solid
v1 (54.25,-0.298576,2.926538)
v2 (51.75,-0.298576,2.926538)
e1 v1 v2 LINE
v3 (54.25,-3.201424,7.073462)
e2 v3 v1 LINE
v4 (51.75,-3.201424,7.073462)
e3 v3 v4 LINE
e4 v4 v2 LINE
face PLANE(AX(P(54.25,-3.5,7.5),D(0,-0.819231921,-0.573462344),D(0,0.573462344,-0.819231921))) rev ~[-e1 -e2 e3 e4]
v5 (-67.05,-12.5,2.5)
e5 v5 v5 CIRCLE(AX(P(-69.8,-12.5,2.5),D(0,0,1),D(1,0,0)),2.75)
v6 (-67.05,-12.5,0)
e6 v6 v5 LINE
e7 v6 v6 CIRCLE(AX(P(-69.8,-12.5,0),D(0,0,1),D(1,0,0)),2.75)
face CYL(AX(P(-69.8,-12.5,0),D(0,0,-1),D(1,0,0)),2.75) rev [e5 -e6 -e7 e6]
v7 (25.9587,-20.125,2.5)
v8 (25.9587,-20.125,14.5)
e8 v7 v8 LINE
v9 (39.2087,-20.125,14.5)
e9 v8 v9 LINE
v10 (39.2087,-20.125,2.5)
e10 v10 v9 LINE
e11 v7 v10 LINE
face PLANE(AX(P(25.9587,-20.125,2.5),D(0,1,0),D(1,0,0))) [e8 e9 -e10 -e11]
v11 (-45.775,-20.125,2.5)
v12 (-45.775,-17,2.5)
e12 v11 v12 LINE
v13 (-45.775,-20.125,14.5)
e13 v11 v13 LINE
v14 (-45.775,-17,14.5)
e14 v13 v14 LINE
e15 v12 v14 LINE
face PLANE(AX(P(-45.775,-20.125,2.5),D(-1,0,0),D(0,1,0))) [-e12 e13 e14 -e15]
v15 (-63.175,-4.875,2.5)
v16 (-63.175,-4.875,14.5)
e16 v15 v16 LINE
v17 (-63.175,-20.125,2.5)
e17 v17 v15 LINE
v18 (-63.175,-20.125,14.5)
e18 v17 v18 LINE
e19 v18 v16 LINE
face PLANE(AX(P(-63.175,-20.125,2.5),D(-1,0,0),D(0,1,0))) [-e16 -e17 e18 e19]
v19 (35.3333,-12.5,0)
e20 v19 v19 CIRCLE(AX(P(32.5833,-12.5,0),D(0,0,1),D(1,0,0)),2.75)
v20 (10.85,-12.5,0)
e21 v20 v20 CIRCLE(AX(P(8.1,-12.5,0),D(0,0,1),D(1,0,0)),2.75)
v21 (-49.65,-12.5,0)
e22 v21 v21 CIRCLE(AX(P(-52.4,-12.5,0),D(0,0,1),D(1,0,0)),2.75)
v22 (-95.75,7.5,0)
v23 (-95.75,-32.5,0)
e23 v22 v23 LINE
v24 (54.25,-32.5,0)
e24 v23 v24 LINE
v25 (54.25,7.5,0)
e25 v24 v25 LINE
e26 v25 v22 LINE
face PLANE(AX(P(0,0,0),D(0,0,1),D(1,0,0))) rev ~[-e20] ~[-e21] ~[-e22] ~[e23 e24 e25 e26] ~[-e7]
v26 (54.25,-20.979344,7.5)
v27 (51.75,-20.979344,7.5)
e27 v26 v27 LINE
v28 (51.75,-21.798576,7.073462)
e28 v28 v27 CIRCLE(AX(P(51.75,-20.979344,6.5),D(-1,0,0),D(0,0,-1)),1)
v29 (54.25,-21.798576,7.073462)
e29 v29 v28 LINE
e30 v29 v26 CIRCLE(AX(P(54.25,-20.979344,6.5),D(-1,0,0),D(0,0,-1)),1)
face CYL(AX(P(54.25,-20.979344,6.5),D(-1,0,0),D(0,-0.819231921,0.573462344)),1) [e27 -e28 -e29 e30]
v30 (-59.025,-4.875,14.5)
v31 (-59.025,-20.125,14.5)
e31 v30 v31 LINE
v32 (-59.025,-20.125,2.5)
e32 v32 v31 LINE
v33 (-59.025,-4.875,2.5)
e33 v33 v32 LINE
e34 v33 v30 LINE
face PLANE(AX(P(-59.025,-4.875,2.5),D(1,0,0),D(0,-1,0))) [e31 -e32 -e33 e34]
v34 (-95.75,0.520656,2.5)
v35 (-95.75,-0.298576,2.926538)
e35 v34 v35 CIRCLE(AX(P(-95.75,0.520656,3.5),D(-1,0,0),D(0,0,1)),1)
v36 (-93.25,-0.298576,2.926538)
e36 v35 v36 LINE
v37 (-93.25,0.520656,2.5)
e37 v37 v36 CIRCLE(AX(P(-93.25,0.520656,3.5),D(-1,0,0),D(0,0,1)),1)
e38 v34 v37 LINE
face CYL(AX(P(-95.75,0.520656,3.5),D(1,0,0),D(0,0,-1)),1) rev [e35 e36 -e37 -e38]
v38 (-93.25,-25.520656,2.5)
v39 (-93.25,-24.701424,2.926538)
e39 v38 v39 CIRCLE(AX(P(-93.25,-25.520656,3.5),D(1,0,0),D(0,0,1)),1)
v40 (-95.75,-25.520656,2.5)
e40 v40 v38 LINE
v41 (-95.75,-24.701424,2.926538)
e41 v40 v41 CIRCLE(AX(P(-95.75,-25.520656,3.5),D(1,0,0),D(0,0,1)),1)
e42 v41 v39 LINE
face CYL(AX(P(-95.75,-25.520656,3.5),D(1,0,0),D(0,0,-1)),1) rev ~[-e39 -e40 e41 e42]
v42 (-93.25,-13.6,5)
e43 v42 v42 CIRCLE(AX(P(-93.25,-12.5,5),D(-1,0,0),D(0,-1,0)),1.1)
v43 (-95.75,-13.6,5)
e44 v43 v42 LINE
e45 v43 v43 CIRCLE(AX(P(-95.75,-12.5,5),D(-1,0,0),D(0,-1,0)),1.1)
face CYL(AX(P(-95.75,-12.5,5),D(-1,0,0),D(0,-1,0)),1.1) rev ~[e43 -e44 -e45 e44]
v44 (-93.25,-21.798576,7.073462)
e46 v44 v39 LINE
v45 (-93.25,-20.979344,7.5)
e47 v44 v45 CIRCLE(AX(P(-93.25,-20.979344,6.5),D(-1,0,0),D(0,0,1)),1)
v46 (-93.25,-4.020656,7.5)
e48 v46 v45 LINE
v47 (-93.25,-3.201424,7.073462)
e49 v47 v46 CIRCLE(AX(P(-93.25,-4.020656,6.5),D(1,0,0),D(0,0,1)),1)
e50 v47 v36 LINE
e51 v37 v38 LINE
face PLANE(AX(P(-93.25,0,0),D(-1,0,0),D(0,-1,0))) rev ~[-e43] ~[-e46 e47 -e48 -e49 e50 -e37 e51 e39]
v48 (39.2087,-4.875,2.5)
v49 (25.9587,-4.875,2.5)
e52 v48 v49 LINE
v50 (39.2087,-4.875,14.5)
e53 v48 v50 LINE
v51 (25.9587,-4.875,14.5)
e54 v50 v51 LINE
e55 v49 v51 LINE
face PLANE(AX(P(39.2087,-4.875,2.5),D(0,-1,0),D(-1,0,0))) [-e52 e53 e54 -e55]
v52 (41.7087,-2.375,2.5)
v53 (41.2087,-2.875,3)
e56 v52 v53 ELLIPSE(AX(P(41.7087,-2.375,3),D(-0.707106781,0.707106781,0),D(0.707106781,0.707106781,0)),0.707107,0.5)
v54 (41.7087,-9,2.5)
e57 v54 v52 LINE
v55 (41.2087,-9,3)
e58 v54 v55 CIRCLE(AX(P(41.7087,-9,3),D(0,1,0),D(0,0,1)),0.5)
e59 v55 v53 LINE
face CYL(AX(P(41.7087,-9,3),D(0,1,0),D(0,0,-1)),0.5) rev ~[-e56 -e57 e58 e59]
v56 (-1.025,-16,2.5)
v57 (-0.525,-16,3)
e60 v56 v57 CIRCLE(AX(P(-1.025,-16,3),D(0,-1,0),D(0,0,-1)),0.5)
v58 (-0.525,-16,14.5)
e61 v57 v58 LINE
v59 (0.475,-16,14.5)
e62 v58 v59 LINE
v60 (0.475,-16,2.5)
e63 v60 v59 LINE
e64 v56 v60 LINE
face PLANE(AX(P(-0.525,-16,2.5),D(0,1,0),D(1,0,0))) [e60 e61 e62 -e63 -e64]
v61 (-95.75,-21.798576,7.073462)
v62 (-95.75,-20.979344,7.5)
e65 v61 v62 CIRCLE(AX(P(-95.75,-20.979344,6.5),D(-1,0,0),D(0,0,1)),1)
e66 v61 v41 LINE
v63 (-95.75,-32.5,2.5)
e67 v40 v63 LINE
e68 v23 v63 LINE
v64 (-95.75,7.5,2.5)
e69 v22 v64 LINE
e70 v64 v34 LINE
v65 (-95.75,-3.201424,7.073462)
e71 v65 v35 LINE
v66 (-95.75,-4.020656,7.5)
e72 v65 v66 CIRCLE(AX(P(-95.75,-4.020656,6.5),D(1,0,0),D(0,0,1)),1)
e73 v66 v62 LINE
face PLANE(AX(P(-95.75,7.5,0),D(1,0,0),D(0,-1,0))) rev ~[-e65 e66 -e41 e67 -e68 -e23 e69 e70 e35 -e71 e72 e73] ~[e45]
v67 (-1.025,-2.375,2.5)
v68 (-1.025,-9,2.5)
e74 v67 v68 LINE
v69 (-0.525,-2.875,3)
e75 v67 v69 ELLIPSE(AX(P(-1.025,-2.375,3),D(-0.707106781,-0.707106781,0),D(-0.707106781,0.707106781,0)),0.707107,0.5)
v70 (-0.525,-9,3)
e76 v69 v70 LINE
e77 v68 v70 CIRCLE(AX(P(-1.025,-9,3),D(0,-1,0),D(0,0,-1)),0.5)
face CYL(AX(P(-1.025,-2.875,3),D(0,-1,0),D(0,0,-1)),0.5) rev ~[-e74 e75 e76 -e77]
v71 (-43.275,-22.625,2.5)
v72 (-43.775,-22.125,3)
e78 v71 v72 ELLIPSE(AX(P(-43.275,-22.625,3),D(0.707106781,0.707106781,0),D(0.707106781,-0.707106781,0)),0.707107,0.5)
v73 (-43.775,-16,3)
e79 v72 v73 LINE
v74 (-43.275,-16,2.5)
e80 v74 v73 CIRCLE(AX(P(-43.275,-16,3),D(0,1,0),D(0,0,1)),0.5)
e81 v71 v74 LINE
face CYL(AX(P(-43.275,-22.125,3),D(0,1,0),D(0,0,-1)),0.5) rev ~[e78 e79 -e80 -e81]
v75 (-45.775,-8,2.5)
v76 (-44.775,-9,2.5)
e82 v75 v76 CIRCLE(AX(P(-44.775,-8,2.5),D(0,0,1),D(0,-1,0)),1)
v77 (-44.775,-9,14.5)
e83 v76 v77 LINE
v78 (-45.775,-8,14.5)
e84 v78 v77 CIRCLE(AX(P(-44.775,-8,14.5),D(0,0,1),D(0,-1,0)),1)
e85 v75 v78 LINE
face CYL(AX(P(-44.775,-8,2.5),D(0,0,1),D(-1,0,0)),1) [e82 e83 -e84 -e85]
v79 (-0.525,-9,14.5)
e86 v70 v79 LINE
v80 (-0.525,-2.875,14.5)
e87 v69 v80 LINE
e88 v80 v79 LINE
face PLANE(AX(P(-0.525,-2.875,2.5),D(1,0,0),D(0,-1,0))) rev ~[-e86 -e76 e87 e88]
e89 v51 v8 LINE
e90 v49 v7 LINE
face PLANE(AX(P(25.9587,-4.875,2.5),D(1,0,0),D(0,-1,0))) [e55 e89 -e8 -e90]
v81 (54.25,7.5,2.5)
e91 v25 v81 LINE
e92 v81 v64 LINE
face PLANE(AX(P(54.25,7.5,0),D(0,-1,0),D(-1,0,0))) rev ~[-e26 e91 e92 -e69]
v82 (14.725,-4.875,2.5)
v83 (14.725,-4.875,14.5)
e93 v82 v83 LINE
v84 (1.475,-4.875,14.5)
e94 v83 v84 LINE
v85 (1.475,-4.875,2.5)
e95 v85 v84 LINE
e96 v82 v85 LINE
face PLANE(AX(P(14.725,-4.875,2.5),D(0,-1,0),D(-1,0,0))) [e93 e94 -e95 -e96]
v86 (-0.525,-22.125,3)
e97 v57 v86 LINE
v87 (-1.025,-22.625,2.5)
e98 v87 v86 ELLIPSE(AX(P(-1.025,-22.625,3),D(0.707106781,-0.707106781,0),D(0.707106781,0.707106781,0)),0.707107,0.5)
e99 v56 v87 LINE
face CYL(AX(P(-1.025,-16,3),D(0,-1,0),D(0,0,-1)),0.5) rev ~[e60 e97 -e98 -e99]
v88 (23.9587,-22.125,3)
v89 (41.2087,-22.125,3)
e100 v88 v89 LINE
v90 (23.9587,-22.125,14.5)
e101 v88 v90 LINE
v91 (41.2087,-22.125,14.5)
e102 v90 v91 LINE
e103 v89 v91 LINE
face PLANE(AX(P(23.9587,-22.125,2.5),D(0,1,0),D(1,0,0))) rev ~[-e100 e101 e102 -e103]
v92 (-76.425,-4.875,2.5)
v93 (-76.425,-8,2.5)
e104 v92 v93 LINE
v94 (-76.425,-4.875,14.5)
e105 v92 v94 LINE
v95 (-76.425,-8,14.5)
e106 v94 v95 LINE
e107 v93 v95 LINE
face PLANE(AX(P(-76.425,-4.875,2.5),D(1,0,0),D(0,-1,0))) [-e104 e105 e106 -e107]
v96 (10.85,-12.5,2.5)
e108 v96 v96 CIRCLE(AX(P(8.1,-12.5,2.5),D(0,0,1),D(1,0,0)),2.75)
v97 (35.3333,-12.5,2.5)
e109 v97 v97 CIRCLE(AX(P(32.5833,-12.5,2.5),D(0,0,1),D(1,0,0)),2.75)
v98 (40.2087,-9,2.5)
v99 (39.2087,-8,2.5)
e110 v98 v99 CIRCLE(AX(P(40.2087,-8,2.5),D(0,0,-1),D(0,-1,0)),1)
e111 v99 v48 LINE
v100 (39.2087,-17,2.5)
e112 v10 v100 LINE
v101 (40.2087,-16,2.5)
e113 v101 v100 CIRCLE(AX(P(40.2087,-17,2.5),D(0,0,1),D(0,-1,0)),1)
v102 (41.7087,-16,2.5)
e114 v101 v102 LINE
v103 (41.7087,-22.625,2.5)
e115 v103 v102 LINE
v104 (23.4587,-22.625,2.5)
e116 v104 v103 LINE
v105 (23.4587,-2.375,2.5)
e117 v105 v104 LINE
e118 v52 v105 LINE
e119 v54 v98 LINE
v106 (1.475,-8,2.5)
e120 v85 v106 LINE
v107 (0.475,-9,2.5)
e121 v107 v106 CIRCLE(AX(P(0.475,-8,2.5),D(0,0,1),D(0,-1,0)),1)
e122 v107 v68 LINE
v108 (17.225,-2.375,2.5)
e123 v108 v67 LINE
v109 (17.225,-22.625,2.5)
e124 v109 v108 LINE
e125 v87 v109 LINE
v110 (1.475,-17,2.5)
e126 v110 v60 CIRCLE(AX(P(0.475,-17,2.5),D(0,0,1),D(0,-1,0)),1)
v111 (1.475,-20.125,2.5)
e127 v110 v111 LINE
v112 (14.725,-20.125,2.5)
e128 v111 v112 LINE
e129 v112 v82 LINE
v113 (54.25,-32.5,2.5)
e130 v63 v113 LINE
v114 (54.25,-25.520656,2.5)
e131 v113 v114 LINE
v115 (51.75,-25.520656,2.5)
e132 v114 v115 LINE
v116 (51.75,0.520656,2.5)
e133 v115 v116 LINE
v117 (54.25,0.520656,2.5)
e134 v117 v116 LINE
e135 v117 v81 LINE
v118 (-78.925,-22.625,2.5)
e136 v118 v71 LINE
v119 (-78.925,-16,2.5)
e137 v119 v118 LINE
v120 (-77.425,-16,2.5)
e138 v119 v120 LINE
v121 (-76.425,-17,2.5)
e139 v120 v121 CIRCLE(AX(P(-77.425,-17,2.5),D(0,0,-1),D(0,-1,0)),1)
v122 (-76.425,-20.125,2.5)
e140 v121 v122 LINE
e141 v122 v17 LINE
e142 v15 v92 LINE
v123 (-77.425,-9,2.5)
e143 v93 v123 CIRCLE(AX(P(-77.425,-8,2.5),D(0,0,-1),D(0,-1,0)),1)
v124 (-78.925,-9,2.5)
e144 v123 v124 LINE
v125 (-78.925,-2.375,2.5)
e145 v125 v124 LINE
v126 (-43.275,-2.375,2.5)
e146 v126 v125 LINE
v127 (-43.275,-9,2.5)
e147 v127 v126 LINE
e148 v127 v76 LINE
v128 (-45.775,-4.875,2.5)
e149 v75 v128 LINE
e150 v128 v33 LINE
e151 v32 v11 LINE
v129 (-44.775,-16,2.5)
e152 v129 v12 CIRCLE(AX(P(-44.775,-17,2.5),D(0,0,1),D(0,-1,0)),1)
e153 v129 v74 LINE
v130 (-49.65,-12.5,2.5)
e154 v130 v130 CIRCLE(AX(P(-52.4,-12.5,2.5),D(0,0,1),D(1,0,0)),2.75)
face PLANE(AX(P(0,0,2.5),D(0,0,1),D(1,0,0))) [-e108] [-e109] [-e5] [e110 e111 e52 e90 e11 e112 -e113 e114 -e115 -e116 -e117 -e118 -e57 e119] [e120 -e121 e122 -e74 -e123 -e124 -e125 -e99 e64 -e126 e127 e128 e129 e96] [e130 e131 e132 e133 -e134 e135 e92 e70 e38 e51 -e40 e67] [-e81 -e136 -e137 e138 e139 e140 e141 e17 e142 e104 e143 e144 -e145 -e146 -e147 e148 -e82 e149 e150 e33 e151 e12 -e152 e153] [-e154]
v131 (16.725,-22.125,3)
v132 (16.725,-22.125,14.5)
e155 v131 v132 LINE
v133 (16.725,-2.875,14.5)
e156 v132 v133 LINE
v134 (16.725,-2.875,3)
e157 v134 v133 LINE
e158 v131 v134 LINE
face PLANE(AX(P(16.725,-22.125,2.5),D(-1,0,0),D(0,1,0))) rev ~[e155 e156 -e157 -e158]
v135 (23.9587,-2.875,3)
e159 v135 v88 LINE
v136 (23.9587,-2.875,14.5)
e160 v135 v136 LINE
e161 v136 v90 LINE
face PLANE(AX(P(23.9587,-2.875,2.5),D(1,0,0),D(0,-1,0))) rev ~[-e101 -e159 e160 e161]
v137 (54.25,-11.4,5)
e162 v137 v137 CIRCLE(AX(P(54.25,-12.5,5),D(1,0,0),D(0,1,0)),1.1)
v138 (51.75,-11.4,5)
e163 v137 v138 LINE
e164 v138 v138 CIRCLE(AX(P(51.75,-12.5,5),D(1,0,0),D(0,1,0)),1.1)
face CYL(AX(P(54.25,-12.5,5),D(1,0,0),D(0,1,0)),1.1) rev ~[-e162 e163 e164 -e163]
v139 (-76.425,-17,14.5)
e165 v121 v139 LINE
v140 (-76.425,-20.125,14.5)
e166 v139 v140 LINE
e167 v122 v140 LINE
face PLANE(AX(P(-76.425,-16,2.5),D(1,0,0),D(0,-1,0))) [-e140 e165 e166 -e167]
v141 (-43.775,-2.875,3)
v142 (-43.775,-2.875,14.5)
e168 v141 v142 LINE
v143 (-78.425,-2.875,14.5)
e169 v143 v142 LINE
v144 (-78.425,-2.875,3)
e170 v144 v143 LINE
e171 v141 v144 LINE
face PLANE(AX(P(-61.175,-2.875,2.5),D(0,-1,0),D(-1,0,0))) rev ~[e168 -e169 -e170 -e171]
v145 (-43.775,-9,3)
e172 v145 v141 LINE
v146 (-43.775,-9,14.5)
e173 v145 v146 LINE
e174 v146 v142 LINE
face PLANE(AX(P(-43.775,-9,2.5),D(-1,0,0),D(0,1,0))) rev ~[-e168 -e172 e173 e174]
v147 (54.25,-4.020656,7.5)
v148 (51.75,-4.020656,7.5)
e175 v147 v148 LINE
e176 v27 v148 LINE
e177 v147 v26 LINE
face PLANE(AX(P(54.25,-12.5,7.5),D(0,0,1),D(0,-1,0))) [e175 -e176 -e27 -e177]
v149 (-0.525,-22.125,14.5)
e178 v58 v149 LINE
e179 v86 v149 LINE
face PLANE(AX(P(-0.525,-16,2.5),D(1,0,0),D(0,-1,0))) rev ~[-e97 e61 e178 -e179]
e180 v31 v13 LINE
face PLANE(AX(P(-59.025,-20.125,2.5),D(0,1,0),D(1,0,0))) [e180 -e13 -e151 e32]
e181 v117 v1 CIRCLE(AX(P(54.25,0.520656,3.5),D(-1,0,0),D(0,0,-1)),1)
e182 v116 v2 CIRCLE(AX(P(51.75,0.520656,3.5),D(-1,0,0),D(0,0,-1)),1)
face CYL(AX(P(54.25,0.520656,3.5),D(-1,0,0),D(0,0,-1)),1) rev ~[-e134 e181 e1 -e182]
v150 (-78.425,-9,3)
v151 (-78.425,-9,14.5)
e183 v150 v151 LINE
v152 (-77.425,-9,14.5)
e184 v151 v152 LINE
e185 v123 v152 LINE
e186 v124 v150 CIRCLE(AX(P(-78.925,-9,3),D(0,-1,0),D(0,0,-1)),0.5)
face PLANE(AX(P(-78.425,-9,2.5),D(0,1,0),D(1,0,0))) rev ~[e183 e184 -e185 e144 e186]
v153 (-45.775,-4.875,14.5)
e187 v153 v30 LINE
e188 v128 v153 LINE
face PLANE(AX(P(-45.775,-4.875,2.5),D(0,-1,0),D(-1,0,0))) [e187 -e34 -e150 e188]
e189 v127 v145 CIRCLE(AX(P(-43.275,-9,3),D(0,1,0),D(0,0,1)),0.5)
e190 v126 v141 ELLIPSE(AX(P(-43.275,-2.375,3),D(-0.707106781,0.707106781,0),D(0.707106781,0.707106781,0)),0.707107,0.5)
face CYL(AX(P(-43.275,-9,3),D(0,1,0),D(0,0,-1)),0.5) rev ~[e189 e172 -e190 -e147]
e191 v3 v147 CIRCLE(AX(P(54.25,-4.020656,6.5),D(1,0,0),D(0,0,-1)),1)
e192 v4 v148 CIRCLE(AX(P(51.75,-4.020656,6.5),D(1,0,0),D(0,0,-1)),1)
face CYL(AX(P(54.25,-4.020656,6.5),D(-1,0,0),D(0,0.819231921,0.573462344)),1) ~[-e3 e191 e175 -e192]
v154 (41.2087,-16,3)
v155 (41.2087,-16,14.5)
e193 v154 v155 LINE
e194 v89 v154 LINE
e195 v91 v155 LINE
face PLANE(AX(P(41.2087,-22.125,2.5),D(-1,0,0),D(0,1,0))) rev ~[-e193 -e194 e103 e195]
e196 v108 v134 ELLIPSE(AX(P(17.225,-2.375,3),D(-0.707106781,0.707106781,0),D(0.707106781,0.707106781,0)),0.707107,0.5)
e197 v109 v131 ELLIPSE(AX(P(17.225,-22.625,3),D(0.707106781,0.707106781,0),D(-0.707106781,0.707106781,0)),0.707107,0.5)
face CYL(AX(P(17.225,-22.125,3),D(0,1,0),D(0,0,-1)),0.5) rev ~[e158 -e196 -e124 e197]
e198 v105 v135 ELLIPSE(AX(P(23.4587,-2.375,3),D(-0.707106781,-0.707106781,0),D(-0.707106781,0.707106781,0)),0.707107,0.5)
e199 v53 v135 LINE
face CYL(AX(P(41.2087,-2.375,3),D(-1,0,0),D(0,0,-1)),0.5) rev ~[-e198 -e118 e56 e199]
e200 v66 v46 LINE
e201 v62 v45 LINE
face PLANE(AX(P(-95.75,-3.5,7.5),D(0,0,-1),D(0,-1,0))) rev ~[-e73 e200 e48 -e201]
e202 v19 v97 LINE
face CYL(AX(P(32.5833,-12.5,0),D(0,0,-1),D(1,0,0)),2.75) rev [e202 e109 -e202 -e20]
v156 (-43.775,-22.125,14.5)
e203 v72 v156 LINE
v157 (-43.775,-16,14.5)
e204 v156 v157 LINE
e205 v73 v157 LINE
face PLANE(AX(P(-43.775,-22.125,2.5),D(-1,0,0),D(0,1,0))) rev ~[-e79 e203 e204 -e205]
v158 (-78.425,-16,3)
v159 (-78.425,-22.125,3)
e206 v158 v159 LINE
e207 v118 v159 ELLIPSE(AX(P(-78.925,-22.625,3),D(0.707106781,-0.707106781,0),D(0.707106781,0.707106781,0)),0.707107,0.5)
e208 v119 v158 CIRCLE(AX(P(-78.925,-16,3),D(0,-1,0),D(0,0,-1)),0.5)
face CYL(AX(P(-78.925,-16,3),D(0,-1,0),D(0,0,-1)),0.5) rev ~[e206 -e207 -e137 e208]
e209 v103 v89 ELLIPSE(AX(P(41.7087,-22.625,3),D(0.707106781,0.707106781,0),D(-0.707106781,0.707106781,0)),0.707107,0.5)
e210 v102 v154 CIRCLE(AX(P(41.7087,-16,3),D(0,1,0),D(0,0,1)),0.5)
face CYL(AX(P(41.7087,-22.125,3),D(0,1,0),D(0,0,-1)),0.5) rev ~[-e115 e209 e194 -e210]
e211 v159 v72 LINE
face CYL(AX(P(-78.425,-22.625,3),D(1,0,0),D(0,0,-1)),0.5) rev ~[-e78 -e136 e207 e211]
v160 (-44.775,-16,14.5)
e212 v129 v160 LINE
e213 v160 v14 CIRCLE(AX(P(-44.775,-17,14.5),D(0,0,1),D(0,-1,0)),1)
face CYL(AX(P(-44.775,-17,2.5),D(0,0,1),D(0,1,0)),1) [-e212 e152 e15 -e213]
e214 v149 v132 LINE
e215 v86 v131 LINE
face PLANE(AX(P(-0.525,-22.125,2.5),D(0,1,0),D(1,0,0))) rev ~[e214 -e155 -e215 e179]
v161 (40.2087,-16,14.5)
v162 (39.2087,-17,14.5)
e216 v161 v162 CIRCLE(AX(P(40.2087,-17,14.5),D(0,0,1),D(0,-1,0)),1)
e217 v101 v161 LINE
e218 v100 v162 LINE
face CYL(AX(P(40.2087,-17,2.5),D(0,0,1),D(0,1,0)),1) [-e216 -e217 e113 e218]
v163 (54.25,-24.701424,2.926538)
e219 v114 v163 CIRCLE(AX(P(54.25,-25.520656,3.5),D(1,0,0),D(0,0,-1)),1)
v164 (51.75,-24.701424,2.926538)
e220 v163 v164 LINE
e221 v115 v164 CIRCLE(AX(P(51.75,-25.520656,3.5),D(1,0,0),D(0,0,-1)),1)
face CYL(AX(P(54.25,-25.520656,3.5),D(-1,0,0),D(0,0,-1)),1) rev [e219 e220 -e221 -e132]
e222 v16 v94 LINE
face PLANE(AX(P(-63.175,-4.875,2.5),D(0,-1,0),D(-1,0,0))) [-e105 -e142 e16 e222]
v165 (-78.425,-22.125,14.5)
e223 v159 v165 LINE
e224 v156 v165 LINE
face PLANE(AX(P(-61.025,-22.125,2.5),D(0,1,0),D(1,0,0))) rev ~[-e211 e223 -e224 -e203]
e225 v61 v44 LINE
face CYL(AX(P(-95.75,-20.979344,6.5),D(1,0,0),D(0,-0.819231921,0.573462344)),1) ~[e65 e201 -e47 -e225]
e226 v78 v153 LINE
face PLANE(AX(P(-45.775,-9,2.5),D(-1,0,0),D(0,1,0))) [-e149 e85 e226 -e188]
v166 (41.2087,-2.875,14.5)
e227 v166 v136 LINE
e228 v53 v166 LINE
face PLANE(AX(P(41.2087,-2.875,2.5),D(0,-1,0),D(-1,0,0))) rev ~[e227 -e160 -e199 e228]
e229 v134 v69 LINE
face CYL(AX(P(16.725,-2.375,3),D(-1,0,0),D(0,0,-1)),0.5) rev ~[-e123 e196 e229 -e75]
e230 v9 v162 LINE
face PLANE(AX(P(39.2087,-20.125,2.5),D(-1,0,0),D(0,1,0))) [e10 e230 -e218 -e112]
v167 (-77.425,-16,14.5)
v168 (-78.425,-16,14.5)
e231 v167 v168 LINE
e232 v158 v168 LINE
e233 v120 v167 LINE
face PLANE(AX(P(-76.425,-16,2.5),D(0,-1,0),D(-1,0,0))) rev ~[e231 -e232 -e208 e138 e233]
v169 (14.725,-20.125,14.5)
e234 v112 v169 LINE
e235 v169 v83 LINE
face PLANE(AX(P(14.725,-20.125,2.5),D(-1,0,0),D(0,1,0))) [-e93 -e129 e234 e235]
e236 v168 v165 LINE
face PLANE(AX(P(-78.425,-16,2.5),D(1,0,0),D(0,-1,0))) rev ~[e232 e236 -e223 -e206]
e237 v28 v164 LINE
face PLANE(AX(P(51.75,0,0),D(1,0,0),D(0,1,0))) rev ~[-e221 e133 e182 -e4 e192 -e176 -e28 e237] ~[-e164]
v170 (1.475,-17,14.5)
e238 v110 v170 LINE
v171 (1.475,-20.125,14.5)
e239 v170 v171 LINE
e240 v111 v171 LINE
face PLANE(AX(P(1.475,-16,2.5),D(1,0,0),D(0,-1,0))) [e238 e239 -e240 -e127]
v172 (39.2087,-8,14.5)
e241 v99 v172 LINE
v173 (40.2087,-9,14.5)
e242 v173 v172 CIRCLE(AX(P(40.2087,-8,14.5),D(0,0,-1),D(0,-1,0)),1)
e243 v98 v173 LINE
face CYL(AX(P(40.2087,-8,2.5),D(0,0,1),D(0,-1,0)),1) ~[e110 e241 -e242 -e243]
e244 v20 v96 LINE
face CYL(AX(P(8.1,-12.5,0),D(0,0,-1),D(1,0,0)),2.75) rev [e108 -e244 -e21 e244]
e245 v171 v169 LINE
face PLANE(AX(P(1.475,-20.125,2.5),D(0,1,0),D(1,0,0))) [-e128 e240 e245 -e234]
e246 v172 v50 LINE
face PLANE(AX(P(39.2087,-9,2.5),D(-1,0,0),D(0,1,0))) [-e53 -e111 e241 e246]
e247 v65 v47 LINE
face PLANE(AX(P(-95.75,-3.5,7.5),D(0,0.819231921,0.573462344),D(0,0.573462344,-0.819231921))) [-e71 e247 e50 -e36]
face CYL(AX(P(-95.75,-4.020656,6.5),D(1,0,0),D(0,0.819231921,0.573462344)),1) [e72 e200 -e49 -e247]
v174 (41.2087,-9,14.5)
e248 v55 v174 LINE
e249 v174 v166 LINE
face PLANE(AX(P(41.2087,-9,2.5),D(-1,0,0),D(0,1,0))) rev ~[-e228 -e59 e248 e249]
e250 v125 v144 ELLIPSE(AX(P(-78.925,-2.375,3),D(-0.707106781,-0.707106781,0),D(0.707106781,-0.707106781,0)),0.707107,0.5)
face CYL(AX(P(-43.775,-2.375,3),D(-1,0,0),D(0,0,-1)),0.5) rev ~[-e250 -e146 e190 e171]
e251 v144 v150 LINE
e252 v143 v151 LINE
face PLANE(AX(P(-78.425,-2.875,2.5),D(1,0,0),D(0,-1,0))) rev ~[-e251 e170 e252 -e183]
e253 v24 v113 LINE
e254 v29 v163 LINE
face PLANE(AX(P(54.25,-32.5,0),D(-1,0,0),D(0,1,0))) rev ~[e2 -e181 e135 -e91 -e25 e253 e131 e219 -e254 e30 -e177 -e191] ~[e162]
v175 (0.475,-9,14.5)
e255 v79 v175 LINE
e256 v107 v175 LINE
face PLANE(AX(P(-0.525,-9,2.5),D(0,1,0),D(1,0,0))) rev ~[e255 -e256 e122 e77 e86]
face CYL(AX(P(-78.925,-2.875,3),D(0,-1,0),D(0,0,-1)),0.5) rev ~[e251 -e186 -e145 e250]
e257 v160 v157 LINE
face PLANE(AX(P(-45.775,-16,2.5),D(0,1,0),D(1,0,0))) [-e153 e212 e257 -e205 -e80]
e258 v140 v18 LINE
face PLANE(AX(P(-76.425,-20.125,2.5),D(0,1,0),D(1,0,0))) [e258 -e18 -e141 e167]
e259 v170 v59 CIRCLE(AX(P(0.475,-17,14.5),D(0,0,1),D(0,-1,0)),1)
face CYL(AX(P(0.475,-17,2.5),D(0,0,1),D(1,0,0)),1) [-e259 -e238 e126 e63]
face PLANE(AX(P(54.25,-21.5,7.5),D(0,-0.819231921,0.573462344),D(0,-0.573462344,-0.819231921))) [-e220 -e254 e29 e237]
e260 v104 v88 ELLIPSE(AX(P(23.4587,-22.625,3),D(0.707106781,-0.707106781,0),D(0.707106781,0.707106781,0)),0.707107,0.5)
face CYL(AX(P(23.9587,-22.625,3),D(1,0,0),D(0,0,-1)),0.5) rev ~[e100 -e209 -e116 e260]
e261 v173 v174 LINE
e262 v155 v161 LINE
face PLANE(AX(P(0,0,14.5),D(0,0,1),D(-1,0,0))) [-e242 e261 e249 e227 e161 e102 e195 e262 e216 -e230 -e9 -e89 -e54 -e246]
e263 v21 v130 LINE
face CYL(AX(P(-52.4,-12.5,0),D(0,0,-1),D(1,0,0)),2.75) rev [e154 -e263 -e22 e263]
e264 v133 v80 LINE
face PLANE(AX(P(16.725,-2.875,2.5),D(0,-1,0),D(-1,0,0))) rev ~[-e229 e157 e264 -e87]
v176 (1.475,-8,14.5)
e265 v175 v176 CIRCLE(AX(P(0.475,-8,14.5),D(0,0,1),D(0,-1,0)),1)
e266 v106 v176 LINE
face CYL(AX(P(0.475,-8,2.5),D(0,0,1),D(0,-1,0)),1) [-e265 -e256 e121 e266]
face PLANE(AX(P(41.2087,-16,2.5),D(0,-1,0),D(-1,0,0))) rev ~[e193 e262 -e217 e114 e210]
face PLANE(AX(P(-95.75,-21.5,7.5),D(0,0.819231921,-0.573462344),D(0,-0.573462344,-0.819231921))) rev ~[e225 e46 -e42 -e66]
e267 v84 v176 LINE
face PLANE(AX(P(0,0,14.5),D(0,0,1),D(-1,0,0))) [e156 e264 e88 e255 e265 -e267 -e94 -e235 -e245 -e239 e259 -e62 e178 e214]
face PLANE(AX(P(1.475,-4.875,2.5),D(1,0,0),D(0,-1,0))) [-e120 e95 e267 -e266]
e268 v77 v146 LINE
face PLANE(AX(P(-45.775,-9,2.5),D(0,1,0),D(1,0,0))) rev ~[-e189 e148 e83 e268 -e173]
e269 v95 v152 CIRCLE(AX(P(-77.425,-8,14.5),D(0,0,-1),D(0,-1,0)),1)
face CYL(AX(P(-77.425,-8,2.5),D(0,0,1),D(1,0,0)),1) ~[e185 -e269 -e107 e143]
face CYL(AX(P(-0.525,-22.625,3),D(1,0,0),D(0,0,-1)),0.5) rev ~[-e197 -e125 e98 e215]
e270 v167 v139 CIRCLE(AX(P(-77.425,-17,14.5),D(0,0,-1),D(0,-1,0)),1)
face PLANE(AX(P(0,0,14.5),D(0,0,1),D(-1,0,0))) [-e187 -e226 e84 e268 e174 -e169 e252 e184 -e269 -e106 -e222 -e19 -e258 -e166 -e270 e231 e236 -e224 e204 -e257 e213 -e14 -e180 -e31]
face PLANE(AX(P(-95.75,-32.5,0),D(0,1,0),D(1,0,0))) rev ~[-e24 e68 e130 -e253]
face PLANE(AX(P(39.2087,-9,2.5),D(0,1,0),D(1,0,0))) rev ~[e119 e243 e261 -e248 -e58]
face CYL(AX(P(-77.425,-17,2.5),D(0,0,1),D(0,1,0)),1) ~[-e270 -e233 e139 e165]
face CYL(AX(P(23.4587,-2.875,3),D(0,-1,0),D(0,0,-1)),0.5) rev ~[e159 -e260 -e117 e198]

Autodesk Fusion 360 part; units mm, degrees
sketch "Sketch1" plane through (0, 0, 0) normal (0, 0, 1) x (1, 0, 0)
  line L0 (68.541, -12.5) -> (-110, -12.5) construction
  line L1 (-20.75, -50) -> (-20.75, 25) construction
  point P0 (-20.75, -12.5)
sketch "Sketch2" plane through (0, 0, 0) normal (0, 0, 1) x (1, 0, 0)
  line L0 (54.25, 7.5) -> (-95.75, 7.5)
  line L1 (-95.75, 7.5) -> (-95.75, -32.5)
  line L2 (-95.75, -32.5) -> (54.25, -32.5)
  line L3 (54.25, -32.5) -> (54.25, 7.5)
  line L4 (54.25, 7.5) -> (-95.75, -32.5) construction
  line L5 (-95.75, 7.5) -> (54.25, -32.5) construction
  line L6 (26.6666, -12.5) -> (38.5, -12.5) construction
  circle A0 centre (32.5833, -12.5) radius 2.75
  line L7 (14, -12.5) -> (2.2, -12.5) construction
  circle A1 centre (8.1, -12.5) radius 2.75
  line L8 (-49.1, -12.5) -> (-52.4, -12.5) construction
  circle A2 centre (-52.4, -12.5) radius 2.75
  line L9 (-73.1, -12.5) -> (-69.8, -12.5) construction
  circle A3 centre (-69.8, -12.5) radius 2.75
  point P0 (-20.75, -12.5)
  dimension "d1" = 150
  dimension "d2" = 40
  dimension "d3" = 5.5
  dimension "d4" = 5.5
  dimension "d5" = 3.3
  dimension "d6" = 5.5
  dimension "d7" = 3.3
  dimension "d8" = 5.5
extrude "Extrude1" add sketch "Sketch2" along normal blind 2.5
sketch "Sketch3" plane through (0, 0, 2.5) normal (0, 0, 1) x (-1, 0, 0)
  circle A0 centre (-32.5833, 12.5) radius 2.75
  circle A1 centre (69.8, 12.5) radius 2.75
  circle A2 centre (-8.1, 12.5) radius 2.75
  circle A3 centre (52.4, 12.5) radius 2.75
  line L0 (-54.25, 32.5) -> (-54.25, -7.5)
  line L1 (-54.25, -7.5) -> (95.75, -7.5)
  line L2 (95.75, -7.5) -> (95.75, 32.5)
  line L3 (95.75, 32.5) -> (-54.25, 32.5)
sketch "Sketch4" plane through (0, 0, 2.5) normal (0, 0, 1) x (-1, 0, 0)
  line L0 (-29.8338, 12.5) -> (-35.3337, 12.5) construction
  line L1 (-39.2087, 4.875) -> (-25.9587, 4.875)
  line L2 (-25.9587, 4.875) -> (-25.9587, 20.125)
  line L3 (-25.9587, 20.125) -> (-39.2087, 20.125)
  line L4 (-39.2087, 20.125) -> (-39.2087, 4.875)
  line L5 (-39.2087, 4.875) -> (-25.9587, 20.125) construction
  line L6 (-25.9587, 4.875) -> (-39.2087, 20.125) construction
  line L7 (-41.2087, 2.875) -> (-23.9587, 2.875)
  line L8 (-23.9587, 2.875) -> (-23.9587, 22.125)
  line L9 (-23.9587, 22.125) -> (-41.2087, 22.125)
  line L10 (-41.2087, 22.125) -> (-41.2087, 2.875)
  line L11 (-41.2087, 2.875) -> (-23.9587, 22.125) construction
  line L12 (-23.9587, 2.875) -> (-41.2087, 22.125) construction
  line L13 (-39.2087, 12.5) -> (-39.2087, 9)
  line L14 (-39.2087, 9) -> (-41.2087, 9)
  line L15 (-41.2087, 9) -> (-41.2087, 16)
  line L16 (-41.2087, 16) -> (-39.2087, 16)
  line L17 (-39.2087, 16) -> (-39.2087, 12.5)
  line L18 (-5.35, 12.5) -> (-10.85, 12.5) construction
  line L19 (-14.725, 4.875) -> (-1.475, 4.875)
  line L20 (-1.475, 4.875) -> (-1.475, 20.125)
  line L21 (-1.475, 20.125) -> (-14.725, 20.125)
  line L22 (-14.725, 20.125) -> (-14.725, 4.875)
  line L23 (-14.725, 4.875) -> (-1.475, 20.125) construction
  line L24 (-1.475, 4.875) -> (-14.725, 20.125) construction
  line L25 (-16.725, 2.875) -> (0.525, 2.875)
  line L26 (0.525, 2.875) -> (0.525, 22.125)
  line L27 (0.525, 22.125) -> (-16.725, 22.125)
  line L28 (-16.725, 22.125) -> (-16.725, 2.875)
  line L29 (-16.725, 2.875) -> (0.525, 22.125) construction
  line L30 (0.525, 2.875) -> (-16.725, 22.125) construction
  line L31 (-1.475, 16) -> (-1.475, 9)
  line L32 (0.525, 16) -> (0.525, 9)
  line L33 (0.525, 9) -> (-1.475, 9)
  line L34 (0.525, 16) -> (-1.475, 16)
  line L35 (55.15, 12.5) -> (49.65, 12.5) construction
  line L36 (45.775, 4.875) -> (59.025, 4.875)
  line L37 (59.025, 4.875) -> (59.025, 20.125)
  line L38 (59.025, 20.125) -> (45.775, 20.125)
  line L39 (45.775, 20.125) -> (45.775, 4.875)
  line L40 (45.775, 4.875) -> (59.025, 20.125) construction
  line L41 (59.025, 4.875) -> (45.775, 20.125) construction
  line L42 (61.025, 22.125) -> (43.775, 22.125)
  line L43 (43.775, 22.125) -> (43.775, 2.875)
  line L44 (43.775, 2.875) -> (61.025, 2.875)
  line L45 (61.025, 22.125) -> (43.775, 2.875) construction
  line L46 (43.775, 22.125) -> (61.025, 2.875) construction
  line L47 (72.55, 12.5) -> (67.05, 12.5) construction
  line L48 (63.175, 4.875) -> (76.425, 4.875)
  line L49 (76.425, 4.875) -> (76.425, 20.125)
  line L50 (76.425, 20.125) -> (63.175, 20.125)
  line L51 (63.175, 20.125) -> (63.175, 4.875)
  line L52 (63.175, 4.875) -> (76.425, 20.125) construction
  line L53 (76.425, 4.875) -> (63.175, 20.125) construction
  line L54 (61.175, 2.875) -> (78.425, 2.875)
  line L55 (78.425, 2.875) -> (78.425, 22.125)
  line L56 (78.425, 22.125) -> (61.175, 22.125)
  line L57 (61.175, 2.875) -> (78.425, 22.125) construction
  line L58 (78.425, 2.875) -> (61.175, 22.125) construction
  line L59 (61.175, 2.875) -> (61.025, 2.875)
  line L60 (61.175, 22.125) -> (61.025, 22.125)
  line L61 (43.775, 16) -> (43.775, 9)
  line L62 (45.775, 16) -> (45.775, 9)
  line L63 (45.775, 9) -> (43.775, 9)
  line L64 (45.775, 16) -> (43.775, 16)
  line L65 (76.425, 16) -> (76.425, 9)
  line L66 (78.425, 16) -> (78.425, 9)
  line L67 (78.425, 9) -> (76.425, 9)
  line L68 (76.425, 16) -> (78.425, 16)
  point P0 (-32.5837, 12.5)
  point P1 (-32.5837, 12.5)
  point P2 (-8.1, 12.5)
  point P3 (-8.1, 12.5)
  point P4 (-1.475, 12.5)
  point P5 (0.525, 12.5)
  point P6 (52.4, 12.5)
  point P7 (52.4, 12.5)
  point P8 (69.8, 12.5)
  point P9 (69.8, 12.5)
  point P10 (43.775, 12.5)
  point P11 (45.775, 12.5)
  point P12 (76.425, 12.5)
  point P13 (78.425, 12.5)
  dimension "d11" = 13.25
  dimension "d12" = 15.25
  dimension "d13" = 17.25
  dimension "d14" = 19.25
  dimension "d15" = 3.5
  dimension "d16" = 7
  dimension "d17" = 13.25
  dimension "d18" = 15.25
  dimension "d19" = 17.25
  dimension "d20" = 19.25
  dimension "d21" = 7
  dimension "d22" = 7
  dimension "d23" = 13.25
  dimension "d24" = 15.25
  dimension "d25" = 17.25
  dimension "d26" = 19.25
  dimension "d27" = 13.25
  dimension "d28" = 15.25
  dimension "d29" = 17.25
  dimension "d30" = 19.25
  dimension "d31" = 7
  dimension "d32" = 7
  dimension "d33" = 7
  dimension "d34" = 7
extrude "Extrude2" add sketch "Sketch4" along normal blind 12 contours L1 L2 L3 L4 L7 L8 L9 L10 L14 L16 | L19 L20 L21 L22 L25 L26 L27 L28 L33 L34 | L36 L37 L38 L39 L42 L43 L44 L48 L49 L50 L51 L54 L55 L56 L59 L60 L63 L64 L67 L68
sketch "Sketch5" plane through (0, 0, 2.5) normal (0, 0, 1) x (-1, 0, 0)
sketch "Sketch7" plane through (54.25, 0, 0) normal (1, 0, 0) x (0, 1, 0)
  line L0 (-32.5, 0) -> (7.5, 0)
  line L1 (7.5, 0) -> (7.5, 2.5)
  line L2 (7.5, 2.5) -> (-32.5, 2.5)
  line L3 (-32.5, 2.5) -> (-32.5, 0)
  line L4 (-25, 2.5) -> (0, 2.5)
  line L5 (-21.5, 2.5) -> (-3.5, 2.5)
  line L6 (-12.5, 7.5) -> (-3.5, 7.5)
  line L7 (-3.5, 7.5) -> (0, 2.5)
  line L8 (-12.5, 7.5) -> (-21.5, 7.5)
  line L9 (-21.5, 7.5) -> (-25, 2.5)
  line L10 (-12.5, 2.5) -> (-12.5, 7.5) construction
  circle A0 centre (-12.5, 5) radius 1.1
  point P0 (-12.5, 2.5)
  point P1 (-12.5, 2.5)
  dimension "d39" = 25
  dimension "d40" = 18
  dimension "d41" = 2.2
extrude "Extrude3" add sketch "Sketch7" against normal blind 2.5 contours L2 L4 L5 L6 L7 L8 L9
sketch "Sketch8" plane through (-95.75, 0, 0) normal (-1, 0, 0) x (0, -1, 0)
  line L0 (-7.5, 0) -> (32.5, 0)
  line L1 (32.5, 0) -> (32.5, 2.5)
  line L2 (32.5, 2.5) -> (-7.5, 2.5)
  line L3 (-7.5, 2.5) -> (-7.5, 0)
  line L4 (0, 2.5) -> (25, 2.5)
  line L5 (3.5, 7.5) -> (21.5, 7.5)
  line L6 (3.5, 7.5) -> (0, 2.5)
  line L7 (21.5, 7.5) -> (25, 2.5)
  circle A0 centre (12.5, 5) radius 1.1
  point P0 (12.5, 2.5)
  dimension "d44" = 25
  dimension "d46" = 18
  dimension "d47" = 2.2
extrude "Extrude4" add sketch "Sketch8" against normal blind 2.5 contours L2 L4 L5 L6 L7
fillet "Fillet1" radius 1 4 edges at (-94.5, -21.5, 7.5) (-94.5, -25, 2.5) (-94.5, -3.5, 7.5) (-94.5, 0, 2.5)
fillet "Fillet2" radius 1 4 edges at (53, -25, 2.5) (53, -21.5, 7.5) (53, -3.5, 7.5) (53, 0, 2.5)
fillet "Fillet3" radius 0.5 5 edges at (41.2087, -19.0625, 2.5) (32.5837, -22.125, 2.5) (41.2087, -5.9375, 2.5) (32.5837, -2.875, 2.5) (23.9587, -12.5, 2.5)
fillet "Fillet4" radius 0.5 15 edges at (16.725, -12.5, 2.5) (8.1, -2.875, 2.5) (8.1, -22.125, 2.5) (-0.525, -5.9375, 2.5) (-0.525, -19.0625, 2.5) (-52.4, -22.125, 2.5) (-61.1, -22.125, 2.5) (-69.8, -22.125, 2.5) (-78.425, -19.0625, 2.5) (-78.425, -5.9375, 2.5) (-43.775, -19.0625, 2.5) (-43.775, -5.9375, 2.5) (-69.8, -2.875, 2.5) (-61.1, -2.875, 2.5) (-52.4, -2.875, 2.5)
fillet "Fillet5" radius 1 8 edges at (-45.775, -16, 8.5) (-45.775, -9, 8.5) (-76.425, -9, 8.5) (-76.425, -16, 8.5) (1.475, -16, 8.5) (1.475, -9, 8.5) (39.2087, -16, 8.5) (39.2087, -9, 8.5)
